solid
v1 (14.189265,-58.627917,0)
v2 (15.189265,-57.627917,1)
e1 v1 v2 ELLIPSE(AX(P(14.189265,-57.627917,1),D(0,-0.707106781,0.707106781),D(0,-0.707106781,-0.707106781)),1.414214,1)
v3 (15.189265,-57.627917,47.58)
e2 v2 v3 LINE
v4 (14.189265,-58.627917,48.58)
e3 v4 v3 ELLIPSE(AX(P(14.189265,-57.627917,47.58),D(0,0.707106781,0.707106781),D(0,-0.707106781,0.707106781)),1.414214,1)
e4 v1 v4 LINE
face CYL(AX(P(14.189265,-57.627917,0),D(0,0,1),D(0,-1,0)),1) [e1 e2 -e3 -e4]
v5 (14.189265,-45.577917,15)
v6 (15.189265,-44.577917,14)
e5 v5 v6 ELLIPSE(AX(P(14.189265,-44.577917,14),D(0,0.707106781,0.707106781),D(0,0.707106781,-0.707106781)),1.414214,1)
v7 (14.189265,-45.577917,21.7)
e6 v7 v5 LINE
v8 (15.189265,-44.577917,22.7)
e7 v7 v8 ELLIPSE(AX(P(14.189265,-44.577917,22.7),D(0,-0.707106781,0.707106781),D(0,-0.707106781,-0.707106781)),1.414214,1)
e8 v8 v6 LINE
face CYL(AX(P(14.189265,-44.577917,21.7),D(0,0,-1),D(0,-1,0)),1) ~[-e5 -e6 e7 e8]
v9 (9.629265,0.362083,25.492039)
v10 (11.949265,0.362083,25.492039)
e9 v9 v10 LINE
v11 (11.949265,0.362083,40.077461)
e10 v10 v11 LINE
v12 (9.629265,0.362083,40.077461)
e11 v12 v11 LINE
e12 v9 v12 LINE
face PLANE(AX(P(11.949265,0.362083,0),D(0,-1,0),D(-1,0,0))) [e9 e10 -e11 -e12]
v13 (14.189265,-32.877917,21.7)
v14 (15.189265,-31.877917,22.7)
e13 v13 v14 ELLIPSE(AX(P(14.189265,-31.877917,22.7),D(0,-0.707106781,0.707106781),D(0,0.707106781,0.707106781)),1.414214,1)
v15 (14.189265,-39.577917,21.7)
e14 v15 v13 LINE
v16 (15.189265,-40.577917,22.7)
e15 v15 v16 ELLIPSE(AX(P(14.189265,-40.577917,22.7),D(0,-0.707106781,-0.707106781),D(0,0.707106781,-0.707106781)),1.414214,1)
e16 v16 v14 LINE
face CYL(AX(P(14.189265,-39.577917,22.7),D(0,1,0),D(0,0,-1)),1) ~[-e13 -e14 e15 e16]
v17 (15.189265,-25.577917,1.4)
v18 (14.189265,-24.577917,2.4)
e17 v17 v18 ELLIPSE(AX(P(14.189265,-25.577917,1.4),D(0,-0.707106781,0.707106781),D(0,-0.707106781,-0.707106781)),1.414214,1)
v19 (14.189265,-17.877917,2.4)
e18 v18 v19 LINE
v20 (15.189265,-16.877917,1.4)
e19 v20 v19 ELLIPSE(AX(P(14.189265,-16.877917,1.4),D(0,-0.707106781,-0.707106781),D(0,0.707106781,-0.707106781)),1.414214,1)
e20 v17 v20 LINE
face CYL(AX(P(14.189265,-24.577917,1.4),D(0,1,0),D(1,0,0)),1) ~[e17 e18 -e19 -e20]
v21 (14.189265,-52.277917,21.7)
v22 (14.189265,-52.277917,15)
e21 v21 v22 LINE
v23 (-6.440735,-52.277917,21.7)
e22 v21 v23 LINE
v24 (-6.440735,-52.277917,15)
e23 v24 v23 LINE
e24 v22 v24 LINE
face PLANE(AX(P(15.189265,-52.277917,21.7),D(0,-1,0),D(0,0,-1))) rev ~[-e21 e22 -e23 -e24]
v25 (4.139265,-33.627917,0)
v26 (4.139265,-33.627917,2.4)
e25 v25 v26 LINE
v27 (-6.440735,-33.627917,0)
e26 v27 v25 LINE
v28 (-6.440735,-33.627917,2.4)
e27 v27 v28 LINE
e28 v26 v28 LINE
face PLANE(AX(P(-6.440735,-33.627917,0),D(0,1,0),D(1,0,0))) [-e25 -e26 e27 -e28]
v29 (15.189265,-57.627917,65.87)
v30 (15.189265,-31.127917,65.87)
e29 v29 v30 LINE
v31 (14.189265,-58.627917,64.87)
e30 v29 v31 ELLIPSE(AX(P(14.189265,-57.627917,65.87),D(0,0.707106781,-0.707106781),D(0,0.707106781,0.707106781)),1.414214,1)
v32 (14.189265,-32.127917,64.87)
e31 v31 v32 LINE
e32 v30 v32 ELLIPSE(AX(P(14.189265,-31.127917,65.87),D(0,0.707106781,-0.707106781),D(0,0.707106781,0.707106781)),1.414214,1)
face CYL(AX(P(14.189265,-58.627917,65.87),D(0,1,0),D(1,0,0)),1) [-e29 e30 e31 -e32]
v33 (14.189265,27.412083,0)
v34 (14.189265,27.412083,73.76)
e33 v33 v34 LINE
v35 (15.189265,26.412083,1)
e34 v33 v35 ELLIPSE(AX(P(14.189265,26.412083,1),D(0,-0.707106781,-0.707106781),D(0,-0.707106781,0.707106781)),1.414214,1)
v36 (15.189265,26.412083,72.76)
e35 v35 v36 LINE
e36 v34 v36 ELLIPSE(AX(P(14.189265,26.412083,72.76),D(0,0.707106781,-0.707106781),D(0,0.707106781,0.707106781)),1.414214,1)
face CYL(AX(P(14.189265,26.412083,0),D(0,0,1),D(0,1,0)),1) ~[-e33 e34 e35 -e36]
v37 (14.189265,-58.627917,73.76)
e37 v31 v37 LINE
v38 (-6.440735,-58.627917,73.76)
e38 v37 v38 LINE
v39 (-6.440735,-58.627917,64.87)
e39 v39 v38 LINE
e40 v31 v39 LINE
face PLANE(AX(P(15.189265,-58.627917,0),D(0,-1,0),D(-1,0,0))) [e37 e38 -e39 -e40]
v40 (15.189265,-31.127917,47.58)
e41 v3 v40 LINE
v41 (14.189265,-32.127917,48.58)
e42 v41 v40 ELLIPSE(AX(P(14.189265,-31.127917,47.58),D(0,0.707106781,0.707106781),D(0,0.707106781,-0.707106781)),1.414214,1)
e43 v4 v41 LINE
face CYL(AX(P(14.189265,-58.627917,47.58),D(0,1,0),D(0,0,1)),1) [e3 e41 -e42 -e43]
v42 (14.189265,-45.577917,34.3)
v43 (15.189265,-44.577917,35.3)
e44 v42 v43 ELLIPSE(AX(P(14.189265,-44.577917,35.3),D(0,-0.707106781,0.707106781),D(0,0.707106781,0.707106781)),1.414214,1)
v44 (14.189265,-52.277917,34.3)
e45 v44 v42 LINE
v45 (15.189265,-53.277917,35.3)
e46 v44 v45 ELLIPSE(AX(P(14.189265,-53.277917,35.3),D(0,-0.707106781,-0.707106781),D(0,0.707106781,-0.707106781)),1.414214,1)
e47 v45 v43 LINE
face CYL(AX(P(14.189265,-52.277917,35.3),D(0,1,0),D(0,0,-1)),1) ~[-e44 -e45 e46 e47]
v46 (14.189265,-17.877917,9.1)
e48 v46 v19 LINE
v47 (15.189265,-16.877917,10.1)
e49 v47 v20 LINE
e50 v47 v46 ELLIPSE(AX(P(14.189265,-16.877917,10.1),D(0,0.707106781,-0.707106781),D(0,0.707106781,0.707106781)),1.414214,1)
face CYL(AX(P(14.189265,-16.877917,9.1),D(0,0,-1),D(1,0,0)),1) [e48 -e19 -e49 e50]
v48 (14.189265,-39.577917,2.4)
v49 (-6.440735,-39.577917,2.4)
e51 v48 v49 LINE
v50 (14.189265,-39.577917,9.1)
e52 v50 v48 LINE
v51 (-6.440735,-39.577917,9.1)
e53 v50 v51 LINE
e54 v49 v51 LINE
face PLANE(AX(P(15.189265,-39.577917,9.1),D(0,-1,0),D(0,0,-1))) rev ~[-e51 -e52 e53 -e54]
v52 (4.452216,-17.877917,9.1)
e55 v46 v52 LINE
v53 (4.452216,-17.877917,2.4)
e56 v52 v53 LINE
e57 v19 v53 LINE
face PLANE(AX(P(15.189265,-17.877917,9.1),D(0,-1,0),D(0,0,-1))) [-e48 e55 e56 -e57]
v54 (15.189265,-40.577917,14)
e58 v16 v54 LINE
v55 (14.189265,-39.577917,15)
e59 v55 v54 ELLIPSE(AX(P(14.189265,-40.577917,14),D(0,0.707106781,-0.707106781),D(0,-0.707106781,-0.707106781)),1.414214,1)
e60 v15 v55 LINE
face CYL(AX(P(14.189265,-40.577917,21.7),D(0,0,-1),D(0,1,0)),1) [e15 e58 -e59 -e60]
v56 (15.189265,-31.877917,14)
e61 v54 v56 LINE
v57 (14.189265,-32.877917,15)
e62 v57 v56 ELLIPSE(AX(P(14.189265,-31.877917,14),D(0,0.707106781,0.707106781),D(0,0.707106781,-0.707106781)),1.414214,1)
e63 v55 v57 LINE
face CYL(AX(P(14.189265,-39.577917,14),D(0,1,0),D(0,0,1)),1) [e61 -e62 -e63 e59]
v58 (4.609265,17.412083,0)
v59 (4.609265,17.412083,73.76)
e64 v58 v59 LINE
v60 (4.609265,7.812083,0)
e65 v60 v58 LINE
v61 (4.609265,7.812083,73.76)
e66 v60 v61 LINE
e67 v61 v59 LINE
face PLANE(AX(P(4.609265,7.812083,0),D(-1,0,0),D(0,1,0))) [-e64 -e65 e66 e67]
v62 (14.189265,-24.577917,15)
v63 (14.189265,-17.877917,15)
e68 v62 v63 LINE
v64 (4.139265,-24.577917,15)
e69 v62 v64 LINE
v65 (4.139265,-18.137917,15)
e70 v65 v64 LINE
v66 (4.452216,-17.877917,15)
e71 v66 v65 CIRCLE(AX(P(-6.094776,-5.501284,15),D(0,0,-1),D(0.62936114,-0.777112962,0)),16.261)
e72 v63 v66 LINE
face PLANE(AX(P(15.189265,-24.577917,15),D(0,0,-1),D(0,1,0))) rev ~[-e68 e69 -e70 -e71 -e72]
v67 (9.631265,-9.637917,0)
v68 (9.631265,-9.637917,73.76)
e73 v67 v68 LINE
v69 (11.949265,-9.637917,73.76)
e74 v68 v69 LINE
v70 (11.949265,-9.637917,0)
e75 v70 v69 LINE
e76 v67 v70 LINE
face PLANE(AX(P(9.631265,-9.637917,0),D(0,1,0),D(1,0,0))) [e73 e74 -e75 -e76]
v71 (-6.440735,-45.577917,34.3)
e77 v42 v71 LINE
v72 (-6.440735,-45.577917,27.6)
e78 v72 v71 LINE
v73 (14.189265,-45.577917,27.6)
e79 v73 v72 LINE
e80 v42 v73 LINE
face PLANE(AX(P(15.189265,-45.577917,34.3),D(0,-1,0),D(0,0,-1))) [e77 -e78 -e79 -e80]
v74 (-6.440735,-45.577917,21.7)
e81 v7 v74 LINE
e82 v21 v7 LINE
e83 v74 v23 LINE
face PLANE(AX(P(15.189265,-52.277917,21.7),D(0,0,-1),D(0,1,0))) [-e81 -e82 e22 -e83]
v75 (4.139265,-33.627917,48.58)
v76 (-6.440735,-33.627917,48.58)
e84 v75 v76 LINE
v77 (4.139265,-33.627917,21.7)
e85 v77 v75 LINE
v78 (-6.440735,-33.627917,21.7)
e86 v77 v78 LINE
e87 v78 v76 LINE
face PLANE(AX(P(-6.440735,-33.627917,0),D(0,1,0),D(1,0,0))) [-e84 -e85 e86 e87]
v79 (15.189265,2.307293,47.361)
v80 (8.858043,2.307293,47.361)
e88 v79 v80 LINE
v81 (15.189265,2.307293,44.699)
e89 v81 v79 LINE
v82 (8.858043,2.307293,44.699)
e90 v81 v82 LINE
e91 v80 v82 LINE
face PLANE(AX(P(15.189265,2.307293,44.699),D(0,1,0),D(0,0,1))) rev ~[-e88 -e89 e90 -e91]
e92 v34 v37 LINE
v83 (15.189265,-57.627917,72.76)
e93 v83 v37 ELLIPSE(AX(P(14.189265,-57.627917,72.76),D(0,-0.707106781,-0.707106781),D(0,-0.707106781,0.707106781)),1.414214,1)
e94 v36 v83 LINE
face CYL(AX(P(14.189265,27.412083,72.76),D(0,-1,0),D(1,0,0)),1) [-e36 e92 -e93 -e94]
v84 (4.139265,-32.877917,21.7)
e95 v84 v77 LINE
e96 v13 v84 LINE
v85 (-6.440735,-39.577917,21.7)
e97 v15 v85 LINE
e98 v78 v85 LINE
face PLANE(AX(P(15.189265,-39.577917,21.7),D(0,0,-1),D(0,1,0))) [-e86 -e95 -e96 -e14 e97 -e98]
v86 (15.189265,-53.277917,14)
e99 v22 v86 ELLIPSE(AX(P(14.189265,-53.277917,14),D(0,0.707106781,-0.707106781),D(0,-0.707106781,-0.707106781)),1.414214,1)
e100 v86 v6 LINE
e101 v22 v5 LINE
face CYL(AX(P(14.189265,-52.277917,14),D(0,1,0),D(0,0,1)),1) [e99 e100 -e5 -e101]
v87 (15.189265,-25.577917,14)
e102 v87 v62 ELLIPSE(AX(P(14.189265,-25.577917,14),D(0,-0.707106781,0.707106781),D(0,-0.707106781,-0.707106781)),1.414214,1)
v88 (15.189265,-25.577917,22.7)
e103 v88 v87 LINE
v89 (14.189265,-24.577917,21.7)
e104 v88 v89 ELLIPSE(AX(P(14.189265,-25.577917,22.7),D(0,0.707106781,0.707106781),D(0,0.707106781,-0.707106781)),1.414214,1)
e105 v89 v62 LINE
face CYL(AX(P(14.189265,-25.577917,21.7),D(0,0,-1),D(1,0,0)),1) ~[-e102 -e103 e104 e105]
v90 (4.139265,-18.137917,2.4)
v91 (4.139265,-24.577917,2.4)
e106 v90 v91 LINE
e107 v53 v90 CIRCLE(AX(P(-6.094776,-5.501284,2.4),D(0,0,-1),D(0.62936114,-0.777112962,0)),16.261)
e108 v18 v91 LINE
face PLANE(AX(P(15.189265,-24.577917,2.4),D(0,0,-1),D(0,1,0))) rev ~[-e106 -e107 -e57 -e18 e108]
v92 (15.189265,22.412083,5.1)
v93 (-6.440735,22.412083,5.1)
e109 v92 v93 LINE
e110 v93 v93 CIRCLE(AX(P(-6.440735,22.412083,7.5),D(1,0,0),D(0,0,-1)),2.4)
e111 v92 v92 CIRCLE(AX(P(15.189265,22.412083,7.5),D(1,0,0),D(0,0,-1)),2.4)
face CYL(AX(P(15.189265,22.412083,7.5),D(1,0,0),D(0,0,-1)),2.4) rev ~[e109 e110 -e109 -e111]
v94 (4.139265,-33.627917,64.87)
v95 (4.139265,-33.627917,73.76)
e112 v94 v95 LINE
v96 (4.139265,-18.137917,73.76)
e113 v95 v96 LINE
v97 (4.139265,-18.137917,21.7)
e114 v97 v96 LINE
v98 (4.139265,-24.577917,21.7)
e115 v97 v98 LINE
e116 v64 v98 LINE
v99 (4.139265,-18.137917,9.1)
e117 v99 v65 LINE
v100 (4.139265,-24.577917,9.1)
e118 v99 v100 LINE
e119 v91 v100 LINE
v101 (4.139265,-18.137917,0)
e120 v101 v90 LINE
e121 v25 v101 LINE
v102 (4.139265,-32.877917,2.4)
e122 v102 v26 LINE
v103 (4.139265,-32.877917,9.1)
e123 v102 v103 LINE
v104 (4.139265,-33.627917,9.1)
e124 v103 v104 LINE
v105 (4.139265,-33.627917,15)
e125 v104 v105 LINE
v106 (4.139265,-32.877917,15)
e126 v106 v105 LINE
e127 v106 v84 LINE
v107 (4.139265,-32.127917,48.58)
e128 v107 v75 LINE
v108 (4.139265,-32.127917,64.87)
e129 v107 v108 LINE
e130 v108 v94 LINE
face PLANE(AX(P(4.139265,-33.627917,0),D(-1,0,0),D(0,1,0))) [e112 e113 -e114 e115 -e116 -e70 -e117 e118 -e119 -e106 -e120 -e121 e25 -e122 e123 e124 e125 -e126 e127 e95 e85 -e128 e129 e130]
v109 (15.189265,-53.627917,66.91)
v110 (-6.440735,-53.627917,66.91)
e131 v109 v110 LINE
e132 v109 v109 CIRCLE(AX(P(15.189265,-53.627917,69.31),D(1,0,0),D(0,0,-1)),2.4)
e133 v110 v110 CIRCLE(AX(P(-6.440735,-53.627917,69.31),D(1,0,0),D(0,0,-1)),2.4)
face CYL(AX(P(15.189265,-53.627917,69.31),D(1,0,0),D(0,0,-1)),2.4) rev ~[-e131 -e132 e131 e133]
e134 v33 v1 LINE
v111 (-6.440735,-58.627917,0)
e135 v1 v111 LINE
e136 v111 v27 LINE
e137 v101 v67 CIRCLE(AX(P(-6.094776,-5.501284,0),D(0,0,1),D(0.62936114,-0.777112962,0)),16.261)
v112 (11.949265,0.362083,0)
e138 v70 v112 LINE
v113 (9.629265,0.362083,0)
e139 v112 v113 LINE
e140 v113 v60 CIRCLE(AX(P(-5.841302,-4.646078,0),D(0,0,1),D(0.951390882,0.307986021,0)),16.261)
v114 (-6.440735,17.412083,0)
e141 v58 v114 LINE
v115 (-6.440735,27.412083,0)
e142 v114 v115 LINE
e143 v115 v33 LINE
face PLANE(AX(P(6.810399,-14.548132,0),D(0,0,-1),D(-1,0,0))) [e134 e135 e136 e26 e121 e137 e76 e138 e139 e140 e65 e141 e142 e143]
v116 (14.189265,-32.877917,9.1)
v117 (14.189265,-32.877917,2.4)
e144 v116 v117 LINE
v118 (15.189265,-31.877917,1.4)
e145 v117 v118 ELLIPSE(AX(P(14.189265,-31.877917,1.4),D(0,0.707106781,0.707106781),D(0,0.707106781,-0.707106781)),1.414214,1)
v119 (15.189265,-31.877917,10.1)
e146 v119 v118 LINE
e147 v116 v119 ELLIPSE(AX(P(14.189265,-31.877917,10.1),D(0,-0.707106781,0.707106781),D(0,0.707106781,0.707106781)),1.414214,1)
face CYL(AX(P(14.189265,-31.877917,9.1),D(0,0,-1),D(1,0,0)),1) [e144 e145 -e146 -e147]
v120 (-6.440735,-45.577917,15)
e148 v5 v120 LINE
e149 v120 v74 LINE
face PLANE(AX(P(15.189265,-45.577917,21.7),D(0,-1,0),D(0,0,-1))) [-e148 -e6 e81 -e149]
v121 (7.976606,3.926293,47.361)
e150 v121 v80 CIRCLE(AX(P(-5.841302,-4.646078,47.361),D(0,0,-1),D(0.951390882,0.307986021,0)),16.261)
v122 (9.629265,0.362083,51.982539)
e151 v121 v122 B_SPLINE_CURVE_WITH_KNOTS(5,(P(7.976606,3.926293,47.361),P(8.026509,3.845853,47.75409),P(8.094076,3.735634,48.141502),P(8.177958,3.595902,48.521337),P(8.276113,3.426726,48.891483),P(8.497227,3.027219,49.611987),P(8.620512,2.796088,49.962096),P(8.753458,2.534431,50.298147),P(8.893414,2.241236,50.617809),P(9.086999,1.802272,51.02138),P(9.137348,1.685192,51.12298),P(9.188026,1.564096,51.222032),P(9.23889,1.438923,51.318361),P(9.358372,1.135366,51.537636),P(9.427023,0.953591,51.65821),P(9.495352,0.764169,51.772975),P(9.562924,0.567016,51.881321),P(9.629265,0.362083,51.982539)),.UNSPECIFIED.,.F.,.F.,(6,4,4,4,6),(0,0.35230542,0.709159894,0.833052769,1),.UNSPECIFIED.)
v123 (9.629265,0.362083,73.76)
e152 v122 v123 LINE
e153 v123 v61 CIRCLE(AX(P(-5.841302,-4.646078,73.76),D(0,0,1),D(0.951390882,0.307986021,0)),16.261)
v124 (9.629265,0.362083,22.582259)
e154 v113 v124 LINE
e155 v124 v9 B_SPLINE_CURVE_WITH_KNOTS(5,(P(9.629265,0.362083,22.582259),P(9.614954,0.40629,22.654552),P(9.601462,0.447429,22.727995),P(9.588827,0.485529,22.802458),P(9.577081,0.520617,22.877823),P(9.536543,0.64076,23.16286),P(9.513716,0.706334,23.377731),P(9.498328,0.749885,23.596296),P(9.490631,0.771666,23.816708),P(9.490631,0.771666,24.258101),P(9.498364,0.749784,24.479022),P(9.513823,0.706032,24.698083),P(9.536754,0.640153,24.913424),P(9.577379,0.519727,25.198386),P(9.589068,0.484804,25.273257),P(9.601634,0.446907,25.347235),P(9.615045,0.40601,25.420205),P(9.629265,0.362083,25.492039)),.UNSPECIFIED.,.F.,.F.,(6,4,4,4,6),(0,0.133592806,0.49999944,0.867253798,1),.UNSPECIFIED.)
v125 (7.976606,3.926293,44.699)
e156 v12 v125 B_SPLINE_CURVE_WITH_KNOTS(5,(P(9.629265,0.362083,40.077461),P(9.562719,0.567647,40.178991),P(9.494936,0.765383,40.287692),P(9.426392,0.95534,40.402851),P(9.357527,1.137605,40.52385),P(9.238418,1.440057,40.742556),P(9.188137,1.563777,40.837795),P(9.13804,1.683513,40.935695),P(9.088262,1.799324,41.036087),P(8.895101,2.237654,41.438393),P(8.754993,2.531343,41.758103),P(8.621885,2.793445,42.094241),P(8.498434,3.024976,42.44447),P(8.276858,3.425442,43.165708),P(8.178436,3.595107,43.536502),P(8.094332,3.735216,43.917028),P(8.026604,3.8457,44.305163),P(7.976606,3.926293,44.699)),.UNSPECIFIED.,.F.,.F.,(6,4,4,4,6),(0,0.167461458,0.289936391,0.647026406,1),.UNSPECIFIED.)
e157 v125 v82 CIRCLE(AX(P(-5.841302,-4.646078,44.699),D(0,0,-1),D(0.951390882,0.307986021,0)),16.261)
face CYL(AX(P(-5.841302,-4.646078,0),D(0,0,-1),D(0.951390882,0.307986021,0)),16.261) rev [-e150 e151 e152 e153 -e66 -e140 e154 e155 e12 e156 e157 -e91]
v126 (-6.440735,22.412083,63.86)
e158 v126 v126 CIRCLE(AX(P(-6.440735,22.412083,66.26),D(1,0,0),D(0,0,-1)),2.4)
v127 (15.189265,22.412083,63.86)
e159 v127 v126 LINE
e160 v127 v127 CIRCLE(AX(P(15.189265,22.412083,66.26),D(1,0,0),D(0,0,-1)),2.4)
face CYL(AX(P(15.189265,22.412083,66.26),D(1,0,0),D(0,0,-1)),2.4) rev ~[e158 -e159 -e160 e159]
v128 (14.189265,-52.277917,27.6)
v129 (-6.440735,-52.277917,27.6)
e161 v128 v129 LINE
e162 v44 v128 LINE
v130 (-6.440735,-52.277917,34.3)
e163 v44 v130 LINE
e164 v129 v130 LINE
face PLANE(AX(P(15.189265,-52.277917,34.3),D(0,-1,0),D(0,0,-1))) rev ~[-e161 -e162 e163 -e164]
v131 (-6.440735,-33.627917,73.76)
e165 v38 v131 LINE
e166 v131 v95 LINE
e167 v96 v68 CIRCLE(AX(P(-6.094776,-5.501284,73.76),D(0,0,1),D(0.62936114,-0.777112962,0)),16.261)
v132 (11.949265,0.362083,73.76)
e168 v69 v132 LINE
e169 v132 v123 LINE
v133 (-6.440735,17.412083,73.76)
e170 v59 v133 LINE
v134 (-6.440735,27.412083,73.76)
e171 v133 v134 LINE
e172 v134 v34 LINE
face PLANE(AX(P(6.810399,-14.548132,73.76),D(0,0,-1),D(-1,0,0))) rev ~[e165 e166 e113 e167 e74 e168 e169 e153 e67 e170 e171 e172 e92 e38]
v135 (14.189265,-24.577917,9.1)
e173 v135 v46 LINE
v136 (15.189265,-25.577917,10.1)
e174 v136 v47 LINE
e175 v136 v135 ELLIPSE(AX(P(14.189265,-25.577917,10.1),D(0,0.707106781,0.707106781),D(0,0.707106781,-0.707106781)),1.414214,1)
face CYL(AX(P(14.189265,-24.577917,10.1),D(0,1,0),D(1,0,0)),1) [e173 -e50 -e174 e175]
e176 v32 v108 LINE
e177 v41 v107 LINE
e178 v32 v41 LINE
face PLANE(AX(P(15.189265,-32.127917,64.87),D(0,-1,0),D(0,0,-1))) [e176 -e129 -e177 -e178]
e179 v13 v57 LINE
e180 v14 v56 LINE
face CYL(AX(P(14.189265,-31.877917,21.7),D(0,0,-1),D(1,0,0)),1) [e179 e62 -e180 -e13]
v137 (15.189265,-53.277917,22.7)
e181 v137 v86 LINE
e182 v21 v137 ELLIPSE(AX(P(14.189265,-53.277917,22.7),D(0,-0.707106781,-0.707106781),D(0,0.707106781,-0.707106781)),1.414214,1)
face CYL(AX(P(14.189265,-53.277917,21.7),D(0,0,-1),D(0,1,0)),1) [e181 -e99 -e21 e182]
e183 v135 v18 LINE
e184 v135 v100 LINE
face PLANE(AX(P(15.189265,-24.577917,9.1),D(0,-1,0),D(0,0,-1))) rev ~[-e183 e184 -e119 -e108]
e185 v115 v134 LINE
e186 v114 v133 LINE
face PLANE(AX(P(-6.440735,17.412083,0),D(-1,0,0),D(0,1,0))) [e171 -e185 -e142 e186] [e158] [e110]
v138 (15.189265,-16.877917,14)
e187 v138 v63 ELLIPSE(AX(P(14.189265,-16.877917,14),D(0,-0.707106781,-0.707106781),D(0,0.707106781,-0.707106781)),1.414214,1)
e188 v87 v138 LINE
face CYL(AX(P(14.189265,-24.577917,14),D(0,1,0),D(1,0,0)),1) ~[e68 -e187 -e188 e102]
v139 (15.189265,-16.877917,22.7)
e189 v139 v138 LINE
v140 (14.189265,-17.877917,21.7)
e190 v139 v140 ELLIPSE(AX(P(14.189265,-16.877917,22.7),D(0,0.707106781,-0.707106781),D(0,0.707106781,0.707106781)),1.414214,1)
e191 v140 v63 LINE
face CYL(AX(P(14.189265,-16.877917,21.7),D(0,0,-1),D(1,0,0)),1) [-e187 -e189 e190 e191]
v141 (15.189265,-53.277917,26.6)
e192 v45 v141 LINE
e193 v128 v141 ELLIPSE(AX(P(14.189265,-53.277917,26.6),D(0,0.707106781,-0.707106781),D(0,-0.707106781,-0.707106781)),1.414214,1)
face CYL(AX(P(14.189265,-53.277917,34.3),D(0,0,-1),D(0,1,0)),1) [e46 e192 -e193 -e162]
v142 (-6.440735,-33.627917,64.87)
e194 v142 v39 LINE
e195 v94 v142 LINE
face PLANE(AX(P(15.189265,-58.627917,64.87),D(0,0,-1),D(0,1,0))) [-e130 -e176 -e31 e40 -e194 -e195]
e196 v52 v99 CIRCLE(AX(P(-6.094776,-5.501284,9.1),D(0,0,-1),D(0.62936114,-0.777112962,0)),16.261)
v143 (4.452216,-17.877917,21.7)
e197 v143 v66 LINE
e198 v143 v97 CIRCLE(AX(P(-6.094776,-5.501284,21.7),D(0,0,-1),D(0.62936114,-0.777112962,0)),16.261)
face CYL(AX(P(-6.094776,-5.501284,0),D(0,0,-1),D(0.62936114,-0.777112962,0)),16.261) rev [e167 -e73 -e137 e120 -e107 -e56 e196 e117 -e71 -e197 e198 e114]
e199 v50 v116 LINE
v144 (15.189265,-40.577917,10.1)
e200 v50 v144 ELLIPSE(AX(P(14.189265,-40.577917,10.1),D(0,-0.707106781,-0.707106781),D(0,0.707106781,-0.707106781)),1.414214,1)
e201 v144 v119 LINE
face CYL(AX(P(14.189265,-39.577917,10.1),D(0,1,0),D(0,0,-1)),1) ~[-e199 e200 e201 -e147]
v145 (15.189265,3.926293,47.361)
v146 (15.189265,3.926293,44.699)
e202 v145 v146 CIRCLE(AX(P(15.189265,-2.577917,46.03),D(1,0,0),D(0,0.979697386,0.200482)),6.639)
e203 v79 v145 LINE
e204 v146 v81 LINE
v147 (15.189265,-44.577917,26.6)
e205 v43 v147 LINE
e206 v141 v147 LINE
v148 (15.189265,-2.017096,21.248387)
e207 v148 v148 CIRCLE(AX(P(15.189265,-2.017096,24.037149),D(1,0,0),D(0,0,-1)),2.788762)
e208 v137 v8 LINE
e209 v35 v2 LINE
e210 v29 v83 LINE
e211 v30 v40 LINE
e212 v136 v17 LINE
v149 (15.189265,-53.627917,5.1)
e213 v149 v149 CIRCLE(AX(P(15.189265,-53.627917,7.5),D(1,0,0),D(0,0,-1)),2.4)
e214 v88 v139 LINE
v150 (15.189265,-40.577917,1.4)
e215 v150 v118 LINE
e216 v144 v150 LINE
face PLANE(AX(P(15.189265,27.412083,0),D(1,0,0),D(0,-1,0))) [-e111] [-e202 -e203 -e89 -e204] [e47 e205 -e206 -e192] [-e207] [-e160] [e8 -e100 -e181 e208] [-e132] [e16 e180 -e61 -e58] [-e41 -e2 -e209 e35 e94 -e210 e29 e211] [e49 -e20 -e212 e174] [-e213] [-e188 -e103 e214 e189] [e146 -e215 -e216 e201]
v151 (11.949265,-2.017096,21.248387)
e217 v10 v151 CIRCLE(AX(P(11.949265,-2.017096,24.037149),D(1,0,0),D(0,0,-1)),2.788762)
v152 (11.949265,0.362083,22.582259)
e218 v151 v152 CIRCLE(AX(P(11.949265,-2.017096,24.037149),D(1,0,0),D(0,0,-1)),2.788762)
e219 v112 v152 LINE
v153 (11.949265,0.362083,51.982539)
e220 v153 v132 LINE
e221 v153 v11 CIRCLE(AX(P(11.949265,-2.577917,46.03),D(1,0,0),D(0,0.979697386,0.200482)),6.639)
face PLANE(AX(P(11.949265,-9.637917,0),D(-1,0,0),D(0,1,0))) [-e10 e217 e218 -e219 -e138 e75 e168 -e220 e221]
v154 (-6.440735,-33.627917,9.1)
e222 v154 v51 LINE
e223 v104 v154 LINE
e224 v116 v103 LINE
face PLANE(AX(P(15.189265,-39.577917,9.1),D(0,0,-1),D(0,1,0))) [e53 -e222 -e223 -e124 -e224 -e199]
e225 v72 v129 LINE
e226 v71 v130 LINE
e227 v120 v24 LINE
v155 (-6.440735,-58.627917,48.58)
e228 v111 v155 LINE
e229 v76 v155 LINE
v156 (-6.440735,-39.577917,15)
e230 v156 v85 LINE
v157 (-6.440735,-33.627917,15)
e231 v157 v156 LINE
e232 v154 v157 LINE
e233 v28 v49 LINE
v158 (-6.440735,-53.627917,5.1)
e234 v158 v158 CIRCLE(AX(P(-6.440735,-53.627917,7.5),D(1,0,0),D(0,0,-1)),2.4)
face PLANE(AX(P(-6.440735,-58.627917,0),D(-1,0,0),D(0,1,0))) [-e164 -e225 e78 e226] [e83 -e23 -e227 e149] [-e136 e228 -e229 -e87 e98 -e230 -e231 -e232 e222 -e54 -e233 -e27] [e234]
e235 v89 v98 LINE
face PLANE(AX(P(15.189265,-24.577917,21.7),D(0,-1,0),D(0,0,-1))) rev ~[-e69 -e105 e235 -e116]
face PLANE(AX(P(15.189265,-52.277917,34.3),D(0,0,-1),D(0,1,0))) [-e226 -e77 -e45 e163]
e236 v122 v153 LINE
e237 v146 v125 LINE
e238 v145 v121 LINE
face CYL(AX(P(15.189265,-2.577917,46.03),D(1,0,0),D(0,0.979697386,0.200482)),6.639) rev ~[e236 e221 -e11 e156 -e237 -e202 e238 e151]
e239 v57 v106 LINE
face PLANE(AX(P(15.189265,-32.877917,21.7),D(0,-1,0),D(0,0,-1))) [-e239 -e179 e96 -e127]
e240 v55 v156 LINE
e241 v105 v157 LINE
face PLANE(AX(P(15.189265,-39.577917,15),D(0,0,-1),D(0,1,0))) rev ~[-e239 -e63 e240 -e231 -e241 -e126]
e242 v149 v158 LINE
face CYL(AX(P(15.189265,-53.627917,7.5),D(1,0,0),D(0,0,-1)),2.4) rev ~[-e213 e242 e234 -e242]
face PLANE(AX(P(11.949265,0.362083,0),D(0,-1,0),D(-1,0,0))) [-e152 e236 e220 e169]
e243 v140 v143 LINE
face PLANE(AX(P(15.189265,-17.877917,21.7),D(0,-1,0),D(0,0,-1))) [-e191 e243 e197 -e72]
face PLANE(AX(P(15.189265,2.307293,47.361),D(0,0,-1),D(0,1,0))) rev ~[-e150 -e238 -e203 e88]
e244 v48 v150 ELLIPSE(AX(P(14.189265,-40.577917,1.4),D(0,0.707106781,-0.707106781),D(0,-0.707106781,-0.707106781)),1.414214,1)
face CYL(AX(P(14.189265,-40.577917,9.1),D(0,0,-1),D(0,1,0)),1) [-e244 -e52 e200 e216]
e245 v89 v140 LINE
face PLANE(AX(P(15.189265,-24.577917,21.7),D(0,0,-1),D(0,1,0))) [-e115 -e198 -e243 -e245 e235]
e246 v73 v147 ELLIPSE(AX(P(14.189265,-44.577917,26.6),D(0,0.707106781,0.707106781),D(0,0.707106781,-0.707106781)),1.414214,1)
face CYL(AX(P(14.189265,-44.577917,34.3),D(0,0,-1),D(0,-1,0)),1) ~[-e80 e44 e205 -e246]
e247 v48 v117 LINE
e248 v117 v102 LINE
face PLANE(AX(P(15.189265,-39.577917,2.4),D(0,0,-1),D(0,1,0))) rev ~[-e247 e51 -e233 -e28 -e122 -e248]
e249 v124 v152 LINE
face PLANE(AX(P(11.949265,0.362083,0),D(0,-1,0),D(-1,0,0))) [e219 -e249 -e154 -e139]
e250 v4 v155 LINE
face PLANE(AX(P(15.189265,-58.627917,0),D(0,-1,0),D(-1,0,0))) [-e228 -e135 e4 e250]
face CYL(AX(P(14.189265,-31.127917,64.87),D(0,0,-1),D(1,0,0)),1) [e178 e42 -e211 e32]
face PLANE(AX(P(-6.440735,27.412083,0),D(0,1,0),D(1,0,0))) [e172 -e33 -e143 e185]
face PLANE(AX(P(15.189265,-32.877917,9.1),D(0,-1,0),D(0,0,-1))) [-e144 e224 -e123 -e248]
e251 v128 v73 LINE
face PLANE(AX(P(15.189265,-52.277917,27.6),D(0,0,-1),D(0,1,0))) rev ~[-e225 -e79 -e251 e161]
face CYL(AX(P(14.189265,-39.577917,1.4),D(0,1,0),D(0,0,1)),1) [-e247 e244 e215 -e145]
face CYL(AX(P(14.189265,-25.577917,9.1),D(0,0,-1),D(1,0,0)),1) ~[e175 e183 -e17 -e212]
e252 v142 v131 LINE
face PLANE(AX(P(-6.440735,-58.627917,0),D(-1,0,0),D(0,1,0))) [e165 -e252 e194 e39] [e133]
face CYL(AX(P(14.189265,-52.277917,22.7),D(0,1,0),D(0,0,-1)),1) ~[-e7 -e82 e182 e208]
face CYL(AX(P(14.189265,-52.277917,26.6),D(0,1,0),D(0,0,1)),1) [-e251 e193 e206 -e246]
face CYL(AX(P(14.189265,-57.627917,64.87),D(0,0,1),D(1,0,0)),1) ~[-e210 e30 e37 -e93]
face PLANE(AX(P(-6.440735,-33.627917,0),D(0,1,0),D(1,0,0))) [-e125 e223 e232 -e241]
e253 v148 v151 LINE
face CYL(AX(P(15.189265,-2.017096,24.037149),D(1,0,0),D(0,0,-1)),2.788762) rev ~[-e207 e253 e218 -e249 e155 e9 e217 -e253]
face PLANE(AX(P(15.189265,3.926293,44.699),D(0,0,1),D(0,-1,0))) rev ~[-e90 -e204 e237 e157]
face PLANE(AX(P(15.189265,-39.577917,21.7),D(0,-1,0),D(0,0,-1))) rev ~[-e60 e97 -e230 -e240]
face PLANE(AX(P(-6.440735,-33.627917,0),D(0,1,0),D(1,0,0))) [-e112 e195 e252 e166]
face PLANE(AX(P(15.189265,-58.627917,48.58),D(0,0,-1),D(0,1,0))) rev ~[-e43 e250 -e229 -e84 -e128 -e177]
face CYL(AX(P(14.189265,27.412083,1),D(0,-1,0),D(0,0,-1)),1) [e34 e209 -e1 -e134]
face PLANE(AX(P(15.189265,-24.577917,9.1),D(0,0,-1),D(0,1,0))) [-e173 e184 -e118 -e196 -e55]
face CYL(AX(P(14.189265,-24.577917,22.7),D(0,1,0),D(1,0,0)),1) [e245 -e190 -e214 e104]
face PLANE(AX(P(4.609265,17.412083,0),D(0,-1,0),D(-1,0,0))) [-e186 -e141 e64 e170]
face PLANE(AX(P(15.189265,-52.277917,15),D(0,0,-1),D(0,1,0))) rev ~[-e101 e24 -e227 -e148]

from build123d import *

# Parameters (mm, degrees)
PROFILEEXTRUDE_DEPTH = 73.76
HOSEWINDOW_W         = 16.29
HOSEWINDOW_H         = 26.5
HOSEWINDOWCUT_DEPTH  = 22.63
CAGESCREWS_R         = 2.4
CAGESCREWSCUT_DEPTH  = 22.63
AXLEHOLECUT_DEPTH    = 22.63
SETSCREWS_R          = 2.426338021
SETSCREWS_R_2        = 2.788762315
SETSCREWSCUT_DEPTH   = 22.63
SKETCH1_W            = 6.7
SKETCH1_H            = 6.7
CUT_EXTRUDE1_DEPTH   = 22.63
FILLET1_R            = 1


with BuildPart() as part:
    # Profile → ProfileExtrude (new body)
    with BuildSketch(Plane.XY):
        with BuildLine():
            Line((-6.44073477, -58.62791746), (-6.44073477, -33.62791746))
            Line((-6.44073477, -33.62791746), (4.13926523, -33.62791746))
            Line((4.13926523, -33.62791746), (4.13926523, -18.13791746))
            ThreePointArc((4.13926523, -18.13791746), (7.563334043, -14.326029686), (9.63126523, -9.63791746))
            Line((9.63126523, -9.63791746), (11.94926523, -9.63791746))
            Line((11.94926523, -9.63791746), (11.94926523, 0.36208254))
            Line((11.94926523, 0.36208254), (9.62926523, 0.36208254))
            ThreePointArc((9.62926523, 0.36208254), (7.643946533, 4.440626184), (4.60926523, 7.81208254))
            Line((4.60926523, 7.81208254), (4.60926523, 17.41208254))
            Line((4.60926523, 17.41208254), (-6.44073477, 17.41208254))
            Line((-6.44073477, 17.41208254), (-6.44073477, 27.41208254))
            Line((-6.44073477, 27.41208254), (15.18926523, 27.41208254))
            Line((15.18926523, 27.41208254), (15.18926523, -58.62791746))
            Line((15.18926523, -58.62791746), (-6.44073477, -58.62791746))
        make_face()
    extrude(amount=PROFILEEXTRUDE_DEPTH)

    # HoseWindow → HoseWindowCut (cut, through all)
    with BuildSketch(Plane(origin=(15.18926523, 0, 0), x_dir=(0, 0, -1), z_dir=(1, 0, 0))):
        with Locations((-56.725, -45.37791746)):
            Rectangle(HOSEWINDOW_W, HOSEWINDOW_H)
    extrude(amount=-HOSEWINDOWCUT_DEPTH, mode=Mode.SUBTRACT)

    # CageScrews → CageScrewsCut (cut, through all)
    with BuildSketch(Plane(origin=(15.18926523, 0, 0), x_dir=(0, 0, -1), z_dir=(1, 0, 0))):
        with Locations((-66.26, 22.41208254)):
            Circle(CAGESCREWS_R)
        with Locations((-7.5, 22.41208254)):
            Circle(CAGESCREWS_R)
        with Locations((-7.5, -53.62791746)):
            Circle(CAGESCREWS_R)
        with Locations((-69.31, -53.62791746)):
            Circle(CAGESCREWS_R)
    extrude(amount=-CAGESCREWSCUT_DEPTH, mode=Mode.SUBTRACT)

    # AxleHole → AxleHoleCut (cut, through all)
    with BuildSketch(Plane(origin=(15.18926523, 0, 0), x_dir=(0, 0, -1), z_dir=(1, 0, 0))):
        with BuildLine():
            Line((-44.699, 2.307293484), (-47.361, 2.307293484))
            Line((-47.361, 2.307293484), (-47.361, 3.926293484))
            ThreePointArc((-47.361, 3.926293484), (-46.03, -9.21691746), (-44.699, 3.926293484))
            Line((-44.699, 3.926293484), (-44.699, 2.307293484))
        make_face()
    extrude(amount=-AXLEHOLECUT_DEPTH, mode=Mode.SUBTRACT)

    # SetScrews → SetScrewsCut (cut, through all)
    with BuildSketch(Plane(origin=(15.18926523, 0, 0), x_dir=(0, 0, -1), z_dir=(1, 0, 0))):
        with Locations((-85.624962528, 3.100017238)):
            Circle(SETSCREWS_R)
        with Locations((-24.037149362, -2.017095907)):
            Circle(SETSCREWS_R_2)
    extrude(amount=-SETSCREWSCUT_DEPTH, mode=Mode.SUBTRACT)

    # Sketch1 → Cut-Extrude1 (cut, through all)
    with BuildSketch(Plane(origin=(15.18926523, 0, 0), x_dir=(0, 0, -1), z_dir=(1, 0, 0))):
        with Locations((-18.35, -48.92791746)):
            Rectangle(SKETCH1_W, SKETCH1_H)
        with Locations((-30.95, -48.92791746)):
            Rectangle(SKETCH1_W, SKETCH1_H)
        with Locations((-5.75, -36.22791746)):
            Rectangle(SKETCH1_W, SKETCH1_H)
        with Locations((-18.35, -36.22791746)):
            Rectangle(SKETCH1_W, SKETCH1_H)
        with Locations((-5.75, -21.22791746)):
            Rectangle(SKETCH1_W, SKETCH1_H)
        with Locations((-18.35, -21.22791746)):
            Rectangle(SKETCH1_W, SKETCH1_H)
    extrude(amount=-CUT_EXTRUDE1_DEPTH, mode=Mode.SUBTRACT)

    # Fillet1
    fillet1_edges = [part.edges().sort_by_distance(p)[0] for p in [
        (15.18926523, -45.57791746, 18.35),
        (15.18926523, -48.92791746, 21.7),
        (15.18926523, -52.27791746, 18.35),
        (15.18926523, -48.92791746, 15),
        (15.18926523, -48.92791746, 34.3),
        (15.18926523, -52.27791746, 30.95),
        (15.18926523, -48.92791746, 27.6),
        (15.18926523, -45.57791746, 30.95),
        (15.18926523, -36.22791746, 9.1),
        (15.18926523, -39.57791746, 5.75),
        (15.18926523, -36.22791746, 2.4),
        (15.18926523, -32.87791746, 5.75),
        (15.18926523, -36.22791746, 21.7),
        (15.18926523, -39.57791746, 18.35),
        (15.18926523, -36.22791746, 15),
        (15.18926523, -32.87791746, 18.35),
        (15.18926523, -15.60791746, 0),
        (15.18926523, -21.22791746, 9.1),
        (15.18926523, -24.57791746, 5.75),
        (15.18926523, -21.22791746, 2.4),
        (15.18926523, -17.87791746, 5.75),
        (15.18926523, -21.22791746, 21.7),
        (15.18926523, -24.57791746, 18.35),
        (15.18926523, -21.22791746, 15),
        (15.18926523, -17.87791746, 18.35),
        (15.18926523, -58.62791746, 69.315),
        (15.18926523, 27.41208254, 36.88),
        (15.18926523, -58.62791746, 24.29),
        (15.18926523, -15.60791746, 73.76),
        (15.18926523, -45.37791746, 64.87),
        (15.18926523, -45.37791746, 48.58),
        (15.18926523, -32.12791746, 56.725),
    ]]
    fillet(fillet1_edges, radius=FILLET1_R)


solid = part.part
